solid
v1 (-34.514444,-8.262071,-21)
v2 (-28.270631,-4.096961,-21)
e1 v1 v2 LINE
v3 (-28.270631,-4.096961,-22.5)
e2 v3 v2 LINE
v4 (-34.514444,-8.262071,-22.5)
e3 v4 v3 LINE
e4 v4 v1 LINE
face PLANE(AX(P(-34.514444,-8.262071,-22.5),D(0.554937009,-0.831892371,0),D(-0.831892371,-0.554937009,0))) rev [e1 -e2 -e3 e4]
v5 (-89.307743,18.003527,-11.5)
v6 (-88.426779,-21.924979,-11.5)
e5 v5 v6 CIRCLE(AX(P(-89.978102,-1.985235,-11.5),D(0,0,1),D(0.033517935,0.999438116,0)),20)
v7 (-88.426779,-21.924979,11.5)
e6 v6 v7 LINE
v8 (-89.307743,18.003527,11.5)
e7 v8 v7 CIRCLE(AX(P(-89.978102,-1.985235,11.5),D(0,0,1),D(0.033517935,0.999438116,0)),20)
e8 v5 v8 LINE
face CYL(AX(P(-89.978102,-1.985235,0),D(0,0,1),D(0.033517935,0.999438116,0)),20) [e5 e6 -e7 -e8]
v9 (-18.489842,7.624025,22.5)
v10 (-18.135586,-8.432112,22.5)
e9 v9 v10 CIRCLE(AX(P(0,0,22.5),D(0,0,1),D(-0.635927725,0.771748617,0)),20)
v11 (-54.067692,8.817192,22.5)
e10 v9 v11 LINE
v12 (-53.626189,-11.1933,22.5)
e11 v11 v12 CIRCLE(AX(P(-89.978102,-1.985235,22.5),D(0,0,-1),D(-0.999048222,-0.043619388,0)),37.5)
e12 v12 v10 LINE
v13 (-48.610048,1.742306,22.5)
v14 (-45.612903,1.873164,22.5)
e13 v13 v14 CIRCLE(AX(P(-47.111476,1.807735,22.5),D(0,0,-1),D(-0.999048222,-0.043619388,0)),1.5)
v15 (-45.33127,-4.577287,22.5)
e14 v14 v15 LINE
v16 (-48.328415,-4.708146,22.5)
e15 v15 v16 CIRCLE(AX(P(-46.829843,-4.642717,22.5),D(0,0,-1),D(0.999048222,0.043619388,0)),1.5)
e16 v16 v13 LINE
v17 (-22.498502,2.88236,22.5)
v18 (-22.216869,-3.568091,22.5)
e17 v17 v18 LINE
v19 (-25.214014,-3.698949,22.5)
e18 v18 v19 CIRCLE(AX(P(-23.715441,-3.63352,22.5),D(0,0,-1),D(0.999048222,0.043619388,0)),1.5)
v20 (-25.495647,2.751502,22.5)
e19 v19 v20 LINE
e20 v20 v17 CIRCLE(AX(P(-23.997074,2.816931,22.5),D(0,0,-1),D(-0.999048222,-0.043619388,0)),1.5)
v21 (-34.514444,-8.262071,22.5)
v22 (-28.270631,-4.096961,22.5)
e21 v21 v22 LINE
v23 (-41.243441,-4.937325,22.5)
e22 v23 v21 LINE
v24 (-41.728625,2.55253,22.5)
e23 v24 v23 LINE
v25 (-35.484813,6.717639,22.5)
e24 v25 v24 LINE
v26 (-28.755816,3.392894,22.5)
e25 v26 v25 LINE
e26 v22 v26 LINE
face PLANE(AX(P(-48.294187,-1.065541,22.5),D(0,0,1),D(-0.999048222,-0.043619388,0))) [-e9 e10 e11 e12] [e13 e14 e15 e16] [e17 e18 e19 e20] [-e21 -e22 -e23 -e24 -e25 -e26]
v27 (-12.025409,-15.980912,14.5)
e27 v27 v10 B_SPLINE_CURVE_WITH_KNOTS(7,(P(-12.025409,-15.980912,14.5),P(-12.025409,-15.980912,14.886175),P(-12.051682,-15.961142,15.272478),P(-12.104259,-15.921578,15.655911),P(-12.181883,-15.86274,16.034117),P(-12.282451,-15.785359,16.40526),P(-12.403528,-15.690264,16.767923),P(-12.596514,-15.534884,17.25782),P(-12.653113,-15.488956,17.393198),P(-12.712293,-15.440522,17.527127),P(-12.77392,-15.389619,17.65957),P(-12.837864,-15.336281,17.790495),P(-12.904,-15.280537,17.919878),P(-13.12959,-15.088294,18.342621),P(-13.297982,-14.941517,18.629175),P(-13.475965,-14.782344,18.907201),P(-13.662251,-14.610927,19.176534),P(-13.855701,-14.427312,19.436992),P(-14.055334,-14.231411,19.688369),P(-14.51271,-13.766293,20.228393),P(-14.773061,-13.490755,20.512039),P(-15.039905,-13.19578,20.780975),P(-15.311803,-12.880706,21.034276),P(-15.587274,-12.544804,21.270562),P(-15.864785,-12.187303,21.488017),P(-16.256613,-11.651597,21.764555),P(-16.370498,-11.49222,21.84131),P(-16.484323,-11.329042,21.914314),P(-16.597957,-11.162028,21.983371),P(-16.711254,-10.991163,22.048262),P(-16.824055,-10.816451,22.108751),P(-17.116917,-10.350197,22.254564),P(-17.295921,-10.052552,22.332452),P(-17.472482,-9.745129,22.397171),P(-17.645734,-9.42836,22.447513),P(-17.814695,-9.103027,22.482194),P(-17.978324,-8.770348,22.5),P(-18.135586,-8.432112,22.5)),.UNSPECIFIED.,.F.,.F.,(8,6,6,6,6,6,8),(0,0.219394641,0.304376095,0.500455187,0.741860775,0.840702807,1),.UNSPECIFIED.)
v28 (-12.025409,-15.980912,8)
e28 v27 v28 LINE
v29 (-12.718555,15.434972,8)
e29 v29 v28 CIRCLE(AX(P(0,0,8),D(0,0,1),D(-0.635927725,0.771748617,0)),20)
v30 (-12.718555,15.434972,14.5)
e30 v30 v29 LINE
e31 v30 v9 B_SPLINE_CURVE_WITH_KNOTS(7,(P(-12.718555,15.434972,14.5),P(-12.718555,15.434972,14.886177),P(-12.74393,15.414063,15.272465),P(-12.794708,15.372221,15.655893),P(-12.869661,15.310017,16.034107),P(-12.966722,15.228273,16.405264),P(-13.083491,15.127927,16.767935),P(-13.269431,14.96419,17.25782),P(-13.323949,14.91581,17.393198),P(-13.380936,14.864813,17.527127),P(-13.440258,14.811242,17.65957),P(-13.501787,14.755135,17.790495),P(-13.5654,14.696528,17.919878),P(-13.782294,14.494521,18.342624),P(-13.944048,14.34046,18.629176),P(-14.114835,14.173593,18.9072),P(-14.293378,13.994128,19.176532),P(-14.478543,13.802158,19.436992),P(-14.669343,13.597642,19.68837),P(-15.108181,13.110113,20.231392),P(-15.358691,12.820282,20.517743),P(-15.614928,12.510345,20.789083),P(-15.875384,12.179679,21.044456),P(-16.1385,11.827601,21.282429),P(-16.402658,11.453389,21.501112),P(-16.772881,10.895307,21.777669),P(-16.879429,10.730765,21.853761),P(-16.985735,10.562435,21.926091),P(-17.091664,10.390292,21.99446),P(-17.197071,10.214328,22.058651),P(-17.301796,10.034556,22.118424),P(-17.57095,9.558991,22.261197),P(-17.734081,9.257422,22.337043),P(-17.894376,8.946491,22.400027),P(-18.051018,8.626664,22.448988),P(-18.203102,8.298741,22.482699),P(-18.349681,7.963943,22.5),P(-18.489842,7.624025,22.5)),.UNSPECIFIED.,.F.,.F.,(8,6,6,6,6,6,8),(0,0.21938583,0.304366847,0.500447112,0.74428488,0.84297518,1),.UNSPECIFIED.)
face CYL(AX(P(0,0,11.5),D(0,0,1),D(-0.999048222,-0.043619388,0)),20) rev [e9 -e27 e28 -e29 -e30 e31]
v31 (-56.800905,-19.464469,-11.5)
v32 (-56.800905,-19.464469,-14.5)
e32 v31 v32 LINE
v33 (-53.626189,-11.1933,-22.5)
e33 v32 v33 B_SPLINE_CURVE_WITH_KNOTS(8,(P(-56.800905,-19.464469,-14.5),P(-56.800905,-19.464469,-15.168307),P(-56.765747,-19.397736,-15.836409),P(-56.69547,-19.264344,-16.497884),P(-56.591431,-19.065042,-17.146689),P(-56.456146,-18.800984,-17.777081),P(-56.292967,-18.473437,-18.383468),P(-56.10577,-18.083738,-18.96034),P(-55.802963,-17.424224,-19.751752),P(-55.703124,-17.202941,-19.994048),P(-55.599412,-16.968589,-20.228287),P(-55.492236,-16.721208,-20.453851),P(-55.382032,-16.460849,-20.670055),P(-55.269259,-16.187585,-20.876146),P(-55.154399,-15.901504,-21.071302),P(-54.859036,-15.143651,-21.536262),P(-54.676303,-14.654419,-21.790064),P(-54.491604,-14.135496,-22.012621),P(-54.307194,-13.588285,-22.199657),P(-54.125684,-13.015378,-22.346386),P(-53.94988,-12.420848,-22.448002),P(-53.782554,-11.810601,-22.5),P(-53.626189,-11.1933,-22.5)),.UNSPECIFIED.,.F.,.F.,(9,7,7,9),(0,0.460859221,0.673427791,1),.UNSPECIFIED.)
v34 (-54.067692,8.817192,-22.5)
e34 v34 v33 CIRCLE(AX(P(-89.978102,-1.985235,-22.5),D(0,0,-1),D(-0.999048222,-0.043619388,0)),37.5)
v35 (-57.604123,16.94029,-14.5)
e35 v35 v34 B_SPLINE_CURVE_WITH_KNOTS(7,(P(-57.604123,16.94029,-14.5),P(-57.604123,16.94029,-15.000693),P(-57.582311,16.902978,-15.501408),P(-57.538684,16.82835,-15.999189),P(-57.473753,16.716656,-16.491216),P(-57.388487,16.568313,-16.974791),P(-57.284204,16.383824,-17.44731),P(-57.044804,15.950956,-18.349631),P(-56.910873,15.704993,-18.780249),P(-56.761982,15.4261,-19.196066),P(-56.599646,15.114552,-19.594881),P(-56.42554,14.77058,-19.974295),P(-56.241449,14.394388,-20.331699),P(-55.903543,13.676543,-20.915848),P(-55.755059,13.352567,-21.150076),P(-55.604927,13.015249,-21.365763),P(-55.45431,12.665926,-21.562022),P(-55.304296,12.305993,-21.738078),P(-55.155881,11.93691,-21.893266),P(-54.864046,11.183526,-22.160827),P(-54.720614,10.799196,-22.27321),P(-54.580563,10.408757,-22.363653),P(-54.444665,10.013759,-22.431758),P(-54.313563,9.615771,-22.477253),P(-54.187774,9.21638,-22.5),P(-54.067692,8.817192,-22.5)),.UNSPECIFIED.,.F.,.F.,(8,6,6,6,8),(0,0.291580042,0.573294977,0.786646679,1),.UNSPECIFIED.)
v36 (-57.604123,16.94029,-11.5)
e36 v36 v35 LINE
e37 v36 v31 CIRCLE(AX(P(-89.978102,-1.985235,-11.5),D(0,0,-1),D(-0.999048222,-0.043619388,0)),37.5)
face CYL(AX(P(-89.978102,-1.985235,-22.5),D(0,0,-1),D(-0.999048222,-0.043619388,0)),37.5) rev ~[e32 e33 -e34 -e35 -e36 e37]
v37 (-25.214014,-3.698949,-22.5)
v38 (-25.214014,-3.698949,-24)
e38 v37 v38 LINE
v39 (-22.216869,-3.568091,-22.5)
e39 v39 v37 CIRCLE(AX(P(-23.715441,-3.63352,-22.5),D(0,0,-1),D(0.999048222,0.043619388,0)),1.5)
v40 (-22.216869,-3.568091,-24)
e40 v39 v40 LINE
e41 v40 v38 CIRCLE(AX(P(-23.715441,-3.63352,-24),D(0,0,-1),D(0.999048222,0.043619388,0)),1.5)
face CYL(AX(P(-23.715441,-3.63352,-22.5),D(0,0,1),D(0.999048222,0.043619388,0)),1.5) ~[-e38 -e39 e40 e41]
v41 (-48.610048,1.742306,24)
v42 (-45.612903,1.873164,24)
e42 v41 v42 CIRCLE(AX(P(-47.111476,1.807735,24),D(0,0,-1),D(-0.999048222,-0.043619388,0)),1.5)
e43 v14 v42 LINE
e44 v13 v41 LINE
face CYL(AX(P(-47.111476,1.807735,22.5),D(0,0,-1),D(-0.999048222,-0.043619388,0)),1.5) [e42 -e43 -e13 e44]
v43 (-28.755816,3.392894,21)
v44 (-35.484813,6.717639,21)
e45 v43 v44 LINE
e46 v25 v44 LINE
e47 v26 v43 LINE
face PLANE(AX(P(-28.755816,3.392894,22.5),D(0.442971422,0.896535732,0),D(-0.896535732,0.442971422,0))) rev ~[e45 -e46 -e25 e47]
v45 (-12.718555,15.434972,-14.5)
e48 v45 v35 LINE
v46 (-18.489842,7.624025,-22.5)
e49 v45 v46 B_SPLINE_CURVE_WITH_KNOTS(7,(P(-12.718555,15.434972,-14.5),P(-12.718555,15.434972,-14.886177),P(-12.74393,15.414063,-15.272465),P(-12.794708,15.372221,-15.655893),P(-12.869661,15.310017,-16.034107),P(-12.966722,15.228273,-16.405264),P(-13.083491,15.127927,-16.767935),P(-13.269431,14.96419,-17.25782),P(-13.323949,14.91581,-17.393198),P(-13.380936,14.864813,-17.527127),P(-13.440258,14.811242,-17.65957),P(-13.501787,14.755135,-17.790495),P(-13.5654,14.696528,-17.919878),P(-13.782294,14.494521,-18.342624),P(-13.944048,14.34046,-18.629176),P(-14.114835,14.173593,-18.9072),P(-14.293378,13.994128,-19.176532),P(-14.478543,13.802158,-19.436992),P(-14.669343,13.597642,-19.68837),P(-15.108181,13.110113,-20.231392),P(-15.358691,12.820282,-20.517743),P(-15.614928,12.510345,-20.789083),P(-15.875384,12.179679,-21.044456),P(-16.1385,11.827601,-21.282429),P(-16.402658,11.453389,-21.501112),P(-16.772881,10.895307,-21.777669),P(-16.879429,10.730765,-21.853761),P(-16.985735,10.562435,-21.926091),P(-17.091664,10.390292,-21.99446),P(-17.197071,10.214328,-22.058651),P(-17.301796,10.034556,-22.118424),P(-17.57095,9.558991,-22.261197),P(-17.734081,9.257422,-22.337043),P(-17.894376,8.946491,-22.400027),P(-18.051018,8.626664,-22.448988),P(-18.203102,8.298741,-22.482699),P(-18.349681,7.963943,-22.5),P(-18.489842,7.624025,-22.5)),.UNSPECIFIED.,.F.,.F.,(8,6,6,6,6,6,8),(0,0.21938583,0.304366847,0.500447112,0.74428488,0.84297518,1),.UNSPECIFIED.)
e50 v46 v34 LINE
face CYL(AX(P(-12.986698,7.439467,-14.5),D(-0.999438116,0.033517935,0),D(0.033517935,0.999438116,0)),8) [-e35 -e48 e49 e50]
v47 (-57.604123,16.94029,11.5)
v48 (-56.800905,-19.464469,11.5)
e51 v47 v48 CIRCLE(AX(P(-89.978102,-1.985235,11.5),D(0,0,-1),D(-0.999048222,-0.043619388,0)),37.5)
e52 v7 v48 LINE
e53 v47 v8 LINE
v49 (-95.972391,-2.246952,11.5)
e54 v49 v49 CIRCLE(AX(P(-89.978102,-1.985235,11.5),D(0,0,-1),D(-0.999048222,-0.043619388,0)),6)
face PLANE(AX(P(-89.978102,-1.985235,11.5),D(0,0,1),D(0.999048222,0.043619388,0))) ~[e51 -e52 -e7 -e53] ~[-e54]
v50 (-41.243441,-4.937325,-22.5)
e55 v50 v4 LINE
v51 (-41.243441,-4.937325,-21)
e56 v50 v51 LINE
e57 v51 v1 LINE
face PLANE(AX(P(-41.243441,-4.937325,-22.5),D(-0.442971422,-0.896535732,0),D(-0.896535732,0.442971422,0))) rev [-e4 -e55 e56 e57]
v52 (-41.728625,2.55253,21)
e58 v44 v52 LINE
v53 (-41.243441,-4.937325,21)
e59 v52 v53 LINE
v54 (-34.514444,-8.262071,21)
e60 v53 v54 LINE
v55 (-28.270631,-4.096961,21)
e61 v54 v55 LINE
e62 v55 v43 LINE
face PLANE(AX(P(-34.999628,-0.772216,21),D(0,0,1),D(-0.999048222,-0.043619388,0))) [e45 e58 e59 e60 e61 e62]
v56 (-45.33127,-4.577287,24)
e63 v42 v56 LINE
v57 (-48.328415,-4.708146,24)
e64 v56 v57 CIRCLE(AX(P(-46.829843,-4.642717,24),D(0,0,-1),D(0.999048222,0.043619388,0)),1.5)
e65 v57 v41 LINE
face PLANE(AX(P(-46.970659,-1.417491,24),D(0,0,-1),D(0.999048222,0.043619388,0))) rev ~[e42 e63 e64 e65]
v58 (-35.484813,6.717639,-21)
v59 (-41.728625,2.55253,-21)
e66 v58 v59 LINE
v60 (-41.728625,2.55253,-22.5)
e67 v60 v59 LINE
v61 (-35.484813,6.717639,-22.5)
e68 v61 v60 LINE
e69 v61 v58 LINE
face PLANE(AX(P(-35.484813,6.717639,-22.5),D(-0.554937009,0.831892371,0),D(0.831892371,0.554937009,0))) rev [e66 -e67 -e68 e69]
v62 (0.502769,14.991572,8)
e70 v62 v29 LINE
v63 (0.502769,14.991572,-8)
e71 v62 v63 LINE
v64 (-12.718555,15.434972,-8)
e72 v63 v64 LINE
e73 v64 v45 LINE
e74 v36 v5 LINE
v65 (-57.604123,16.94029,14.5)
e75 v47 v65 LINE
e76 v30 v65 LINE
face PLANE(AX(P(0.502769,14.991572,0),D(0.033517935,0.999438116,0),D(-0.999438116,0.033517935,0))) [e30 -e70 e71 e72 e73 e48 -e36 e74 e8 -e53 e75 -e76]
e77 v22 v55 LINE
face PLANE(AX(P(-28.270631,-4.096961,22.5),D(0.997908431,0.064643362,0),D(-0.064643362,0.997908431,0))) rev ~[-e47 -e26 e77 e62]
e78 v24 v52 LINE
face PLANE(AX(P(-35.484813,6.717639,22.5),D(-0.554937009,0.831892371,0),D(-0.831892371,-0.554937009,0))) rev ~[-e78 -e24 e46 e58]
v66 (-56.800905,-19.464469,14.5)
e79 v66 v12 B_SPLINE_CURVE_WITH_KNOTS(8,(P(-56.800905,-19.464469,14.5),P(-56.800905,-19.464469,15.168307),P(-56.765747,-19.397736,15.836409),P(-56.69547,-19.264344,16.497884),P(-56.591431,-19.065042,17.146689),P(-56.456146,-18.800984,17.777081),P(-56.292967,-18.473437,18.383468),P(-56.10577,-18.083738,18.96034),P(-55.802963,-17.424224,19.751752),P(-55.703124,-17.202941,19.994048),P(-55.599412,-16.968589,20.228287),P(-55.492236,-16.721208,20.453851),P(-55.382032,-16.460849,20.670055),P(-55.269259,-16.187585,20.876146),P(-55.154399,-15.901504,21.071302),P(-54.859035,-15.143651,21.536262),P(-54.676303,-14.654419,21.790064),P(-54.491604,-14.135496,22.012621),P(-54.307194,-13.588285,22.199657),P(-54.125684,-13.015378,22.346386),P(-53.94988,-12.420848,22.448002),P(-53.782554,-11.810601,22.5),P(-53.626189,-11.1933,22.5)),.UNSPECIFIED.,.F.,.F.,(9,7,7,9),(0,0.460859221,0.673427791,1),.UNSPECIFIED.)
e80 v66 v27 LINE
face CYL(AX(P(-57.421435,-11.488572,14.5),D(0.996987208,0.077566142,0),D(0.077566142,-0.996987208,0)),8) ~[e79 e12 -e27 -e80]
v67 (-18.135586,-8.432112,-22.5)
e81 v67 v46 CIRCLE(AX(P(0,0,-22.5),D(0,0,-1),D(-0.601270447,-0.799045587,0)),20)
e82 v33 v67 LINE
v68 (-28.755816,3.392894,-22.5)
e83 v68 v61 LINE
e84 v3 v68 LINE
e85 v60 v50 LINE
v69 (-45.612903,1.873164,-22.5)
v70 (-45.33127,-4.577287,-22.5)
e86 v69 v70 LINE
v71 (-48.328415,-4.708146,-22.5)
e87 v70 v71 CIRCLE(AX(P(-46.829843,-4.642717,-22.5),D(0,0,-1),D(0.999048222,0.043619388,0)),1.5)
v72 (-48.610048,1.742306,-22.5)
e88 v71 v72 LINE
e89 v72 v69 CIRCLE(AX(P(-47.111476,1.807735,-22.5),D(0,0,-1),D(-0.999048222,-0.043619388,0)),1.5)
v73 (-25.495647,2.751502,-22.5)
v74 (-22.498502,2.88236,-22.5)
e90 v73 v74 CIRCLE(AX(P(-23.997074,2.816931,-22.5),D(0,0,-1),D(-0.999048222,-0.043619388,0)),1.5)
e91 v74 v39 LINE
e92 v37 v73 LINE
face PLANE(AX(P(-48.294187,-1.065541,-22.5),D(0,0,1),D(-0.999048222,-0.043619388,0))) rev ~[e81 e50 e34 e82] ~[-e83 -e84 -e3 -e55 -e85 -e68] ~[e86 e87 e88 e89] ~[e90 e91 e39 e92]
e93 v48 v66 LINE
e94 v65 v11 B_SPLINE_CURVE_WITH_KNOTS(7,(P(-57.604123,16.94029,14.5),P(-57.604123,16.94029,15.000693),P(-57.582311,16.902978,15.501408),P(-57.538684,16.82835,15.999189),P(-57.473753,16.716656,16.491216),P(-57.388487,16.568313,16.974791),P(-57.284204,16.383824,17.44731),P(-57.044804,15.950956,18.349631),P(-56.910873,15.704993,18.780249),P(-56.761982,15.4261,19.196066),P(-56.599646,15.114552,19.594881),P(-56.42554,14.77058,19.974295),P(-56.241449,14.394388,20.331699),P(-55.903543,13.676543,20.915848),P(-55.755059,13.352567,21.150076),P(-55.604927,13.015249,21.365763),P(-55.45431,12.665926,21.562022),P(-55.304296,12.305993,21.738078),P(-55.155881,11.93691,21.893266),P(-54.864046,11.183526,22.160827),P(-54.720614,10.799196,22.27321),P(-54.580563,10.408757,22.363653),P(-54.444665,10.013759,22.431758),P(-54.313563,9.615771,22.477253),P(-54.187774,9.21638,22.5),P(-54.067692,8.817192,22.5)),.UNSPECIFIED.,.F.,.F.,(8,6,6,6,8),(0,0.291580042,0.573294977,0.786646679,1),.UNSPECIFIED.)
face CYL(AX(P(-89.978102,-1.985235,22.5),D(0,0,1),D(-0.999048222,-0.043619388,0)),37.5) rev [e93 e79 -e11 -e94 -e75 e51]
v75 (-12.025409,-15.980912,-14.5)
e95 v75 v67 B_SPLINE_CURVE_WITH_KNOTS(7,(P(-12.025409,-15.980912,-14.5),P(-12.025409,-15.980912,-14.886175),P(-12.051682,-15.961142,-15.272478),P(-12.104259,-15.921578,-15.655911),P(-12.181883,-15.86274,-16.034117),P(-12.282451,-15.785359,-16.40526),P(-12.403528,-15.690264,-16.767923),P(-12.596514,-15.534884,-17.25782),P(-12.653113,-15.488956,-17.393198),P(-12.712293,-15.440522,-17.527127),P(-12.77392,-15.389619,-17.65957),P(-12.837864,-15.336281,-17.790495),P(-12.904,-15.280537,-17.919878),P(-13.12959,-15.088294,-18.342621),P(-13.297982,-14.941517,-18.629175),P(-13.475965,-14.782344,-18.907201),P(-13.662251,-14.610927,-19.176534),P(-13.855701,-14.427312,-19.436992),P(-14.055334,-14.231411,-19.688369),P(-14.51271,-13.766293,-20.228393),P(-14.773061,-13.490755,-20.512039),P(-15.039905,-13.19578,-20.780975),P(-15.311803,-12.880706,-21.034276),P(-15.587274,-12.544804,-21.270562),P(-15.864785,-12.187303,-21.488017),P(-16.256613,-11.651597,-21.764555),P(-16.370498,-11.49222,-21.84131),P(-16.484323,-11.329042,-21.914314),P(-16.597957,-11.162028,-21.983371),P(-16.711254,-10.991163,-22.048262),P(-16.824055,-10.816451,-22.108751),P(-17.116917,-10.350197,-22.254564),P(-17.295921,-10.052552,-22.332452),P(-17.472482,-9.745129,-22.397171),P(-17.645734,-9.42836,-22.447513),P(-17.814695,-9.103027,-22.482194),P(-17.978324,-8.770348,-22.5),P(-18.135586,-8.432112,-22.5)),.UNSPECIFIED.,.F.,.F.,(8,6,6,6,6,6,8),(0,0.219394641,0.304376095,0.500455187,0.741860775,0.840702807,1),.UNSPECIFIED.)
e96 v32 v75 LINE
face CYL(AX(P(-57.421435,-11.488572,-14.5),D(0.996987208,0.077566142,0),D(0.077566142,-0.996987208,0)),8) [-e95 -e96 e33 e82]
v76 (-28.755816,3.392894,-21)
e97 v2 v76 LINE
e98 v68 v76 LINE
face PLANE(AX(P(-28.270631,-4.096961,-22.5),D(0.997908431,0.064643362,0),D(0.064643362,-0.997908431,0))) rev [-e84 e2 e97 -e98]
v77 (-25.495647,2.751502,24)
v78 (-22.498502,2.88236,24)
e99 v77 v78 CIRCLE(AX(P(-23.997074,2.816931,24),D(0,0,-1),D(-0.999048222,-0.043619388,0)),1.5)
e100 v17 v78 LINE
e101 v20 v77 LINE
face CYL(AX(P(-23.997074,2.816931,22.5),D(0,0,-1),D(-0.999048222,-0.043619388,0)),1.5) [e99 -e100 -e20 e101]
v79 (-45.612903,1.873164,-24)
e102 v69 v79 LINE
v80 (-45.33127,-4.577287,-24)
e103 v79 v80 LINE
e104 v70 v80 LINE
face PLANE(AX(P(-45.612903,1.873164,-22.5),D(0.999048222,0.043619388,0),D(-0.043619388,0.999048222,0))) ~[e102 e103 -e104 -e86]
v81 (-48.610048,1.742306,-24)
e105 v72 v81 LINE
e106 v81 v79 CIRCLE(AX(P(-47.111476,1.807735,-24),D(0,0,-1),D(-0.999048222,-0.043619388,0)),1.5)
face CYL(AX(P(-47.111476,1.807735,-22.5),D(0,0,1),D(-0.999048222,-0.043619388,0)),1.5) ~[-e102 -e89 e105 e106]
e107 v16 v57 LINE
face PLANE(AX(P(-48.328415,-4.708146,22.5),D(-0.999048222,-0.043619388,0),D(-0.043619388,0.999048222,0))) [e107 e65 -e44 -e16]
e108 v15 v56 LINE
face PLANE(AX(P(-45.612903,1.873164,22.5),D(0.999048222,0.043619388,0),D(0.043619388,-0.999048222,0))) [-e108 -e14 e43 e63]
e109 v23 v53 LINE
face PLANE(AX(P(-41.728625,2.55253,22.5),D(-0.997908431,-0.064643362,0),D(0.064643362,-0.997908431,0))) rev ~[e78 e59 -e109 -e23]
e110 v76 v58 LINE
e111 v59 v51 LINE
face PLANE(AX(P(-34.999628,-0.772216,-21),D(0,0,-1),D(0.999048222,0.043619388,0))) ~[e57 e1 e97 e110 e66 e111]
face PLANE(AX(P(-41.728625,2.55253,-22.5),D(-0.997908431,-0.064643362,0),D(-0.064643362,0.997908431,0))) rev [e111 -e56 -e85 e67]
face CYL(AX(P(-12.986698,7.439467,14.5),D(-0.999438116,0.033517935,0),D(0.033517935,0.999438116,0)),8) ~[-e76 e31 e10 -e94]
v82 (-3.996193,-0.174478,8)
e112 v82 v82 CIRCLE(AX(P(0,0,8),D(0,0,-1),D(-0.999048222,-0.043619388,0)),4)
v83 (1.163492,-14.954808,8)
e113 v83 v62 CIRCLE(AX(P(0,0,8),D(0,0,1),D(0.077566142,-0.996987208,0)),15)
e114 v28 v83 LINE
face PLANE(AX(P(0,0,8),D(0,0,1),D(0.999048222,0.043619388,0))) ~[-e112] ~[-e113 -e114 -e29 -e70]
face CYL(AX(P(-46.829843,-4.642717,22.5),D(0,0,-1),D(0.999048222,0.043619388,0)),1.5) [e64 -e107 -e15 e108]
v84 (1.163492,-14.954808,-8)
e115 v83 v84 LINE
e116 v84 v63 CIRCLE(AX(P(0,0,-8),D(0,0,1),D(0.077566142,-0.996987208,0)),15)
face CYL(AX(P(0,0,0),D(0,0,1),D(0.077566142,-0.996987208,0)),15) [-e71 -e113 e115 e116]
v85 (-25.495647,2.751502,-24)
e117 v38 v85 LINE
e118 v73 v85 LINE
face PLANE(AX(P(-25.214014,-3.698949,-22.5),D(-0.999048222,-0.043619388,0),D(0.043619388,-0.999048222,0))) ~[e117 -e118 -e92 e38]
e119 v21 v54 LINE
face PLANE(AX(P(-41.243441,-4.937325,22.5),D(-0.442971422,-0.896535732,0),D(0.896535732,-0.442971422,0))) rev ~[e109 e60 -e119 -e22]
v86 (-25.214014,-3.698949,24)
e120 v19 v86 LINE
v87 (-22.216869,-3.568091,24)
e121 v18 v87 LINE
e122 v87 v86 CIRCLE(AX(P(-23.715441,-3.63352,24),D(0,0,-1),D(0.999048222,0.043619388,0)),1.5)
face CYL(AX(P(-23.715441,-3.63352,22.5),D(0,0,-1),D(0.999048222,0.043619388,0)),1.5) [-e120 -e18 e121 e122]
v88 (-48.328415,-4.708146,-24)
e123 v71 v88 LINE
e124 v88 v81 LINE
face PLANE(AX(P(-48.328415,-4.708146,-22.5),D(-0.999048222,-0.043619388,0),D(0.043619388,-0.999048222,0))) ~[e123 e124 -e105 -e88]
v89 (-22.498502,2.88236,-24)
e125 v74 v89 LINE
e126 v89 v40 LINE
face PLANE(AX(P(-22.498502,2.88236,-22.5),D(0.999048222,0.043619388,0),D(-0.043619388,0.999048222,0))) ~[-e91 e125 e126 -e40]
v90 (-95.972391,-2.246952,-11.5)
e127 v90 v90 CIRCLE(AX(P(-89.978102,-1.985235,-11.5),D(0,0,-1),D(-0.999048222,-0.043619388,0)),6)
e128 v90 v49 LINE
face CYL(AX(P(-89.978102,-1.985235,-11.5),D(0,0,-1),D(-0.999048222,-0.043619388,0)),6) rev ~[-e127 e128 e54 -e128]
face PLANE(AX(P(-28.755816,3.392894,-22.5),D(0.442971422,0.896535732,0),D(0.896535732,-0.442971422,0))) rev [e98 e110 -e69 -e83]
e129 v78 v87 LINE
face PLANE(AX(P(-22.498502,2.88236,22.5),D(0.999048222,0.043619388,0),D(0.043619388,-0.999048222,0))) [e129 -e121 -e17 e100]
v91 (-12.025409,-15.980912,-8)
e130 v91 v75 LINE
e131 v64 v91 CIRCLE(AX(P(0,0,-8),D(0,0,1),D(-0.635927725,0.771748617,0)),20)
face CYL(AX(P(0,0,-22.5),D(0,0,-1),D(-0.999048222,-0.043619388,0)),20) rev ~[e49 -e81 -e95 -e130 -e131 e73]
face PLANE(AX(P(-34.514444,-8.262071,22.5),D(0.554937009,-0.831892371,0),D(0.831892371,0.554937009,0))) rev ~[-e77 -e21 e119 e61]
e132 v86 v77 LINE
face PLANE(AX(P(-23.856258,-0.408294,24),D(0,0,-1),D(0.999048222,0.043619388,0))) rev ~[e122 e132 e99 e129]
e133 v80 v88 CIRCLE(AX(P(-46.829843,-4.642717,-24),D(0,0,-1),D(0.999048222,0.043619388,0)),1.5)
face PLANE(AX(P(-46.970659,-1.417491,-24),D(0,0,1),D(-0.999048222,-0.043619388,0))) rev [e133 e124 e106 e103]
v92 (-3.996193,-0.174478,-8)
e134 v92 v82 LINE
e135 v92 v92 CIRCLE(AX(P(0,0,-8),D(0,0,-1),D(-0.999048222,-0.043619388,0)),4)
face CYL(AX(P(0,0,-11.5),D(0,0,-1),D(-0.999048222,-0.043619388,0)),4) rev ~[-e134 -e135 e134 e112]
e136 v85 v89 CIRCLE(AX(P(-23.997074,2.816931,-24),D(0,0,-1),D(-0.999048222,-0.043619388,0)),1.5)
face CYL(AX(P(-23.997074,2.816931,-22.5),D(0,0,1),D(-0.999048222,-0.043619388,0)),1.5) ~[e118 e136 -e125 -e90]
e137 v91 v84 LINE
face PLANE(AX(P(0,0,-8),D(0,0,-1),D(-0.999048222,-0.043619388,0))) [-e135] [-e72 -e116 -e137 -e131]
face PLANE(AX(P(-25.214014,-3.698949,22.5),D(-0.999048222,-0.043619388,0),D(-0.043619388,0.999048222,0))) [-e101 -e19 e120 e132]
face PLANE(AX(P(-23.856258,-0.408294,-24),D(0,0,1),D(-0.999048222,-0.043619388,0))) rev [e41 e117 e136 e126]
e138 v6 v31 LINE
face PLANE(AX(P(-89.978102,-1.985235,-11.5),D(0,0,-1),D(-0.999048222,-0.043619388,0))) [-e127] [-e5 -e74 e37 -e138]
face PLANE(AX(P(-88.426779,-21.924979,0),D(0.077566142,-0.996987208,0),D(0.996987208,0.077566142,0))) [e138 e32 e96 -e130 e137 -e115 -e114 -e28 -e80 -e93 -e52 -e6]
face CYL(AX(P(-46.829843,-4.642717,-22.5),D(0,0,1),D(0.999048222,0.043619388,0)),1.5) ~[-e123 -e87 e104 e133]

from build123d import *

# Parameters (mm, degrees)
BOSS_EXTRUDE1_DEPTH    = 22.5
SKETCH2_R              = 37.5
SKETCH2_R_2            = 20
CUT_EXTRUDE1_DEPTH     = 11
FILLET1_R              = 8
SKETCH4_R              = 6
SKETCH4_R_2            = 4
CUT_EXTRUDE2_DEPTH     = 40
CUT_EXTRUDE3_DEPTH     = 1.5
BOSS_EXTRUDE2_DEPTH    = 1.5
SKETCH7_R              = 20
CUT_EXTRUDE4_DEPTH     = 3.5
BODY_MOVE_COPY7_ANGLE  = 178.232303169
BODY_MOVE_COPY8_ANGLE  = 1.26
BODY_MOVE_COPY9_ANGLE  = 1.26
BODY_MOVE_COPY10_ANGLE = 180


with BuildPart() as part:
    # Sketch1 → Boss-Extrude1 (new body, symmetric)
    with BuildSketch(Plane(origin=(0, 0, 0), x_dir=(1, 0, 0), z_dir=(0, 1, 0))):
        with BuildLine():
            Line((-91.135271219, -13.013928685), (-1.541618241, -19.940496814))
            ThreePointArc((-1.541618241, -19.940496814), (19.99534612, -0.431431984), (-0.680086883, 19.988433701))
            Line((-0.680086883, 19.988433701), (-90.489122701, 16.932769202))
            ThreePointArc((-90.489122701, 16.932769202), (-104.975567128, 2.265017913), (-91.135271219, -13.013928685))
        make_face()
    extrude(amount=BOSS_EXTRUDE1_DEPTH, both=True)

    # Sketch2 → Cut-Extrude1 (cut)
    with BuildSketch(Plane.XZ.offset(22.5)):
        Circle(SKETCH2_R)
        with Locations((-89.979057538, -1.941443926)):
            Circle(SKETCH2_R_2)
    cut_extrude1 = extrude(amount=-CUT_EXTRUDE1_DEPTH, mode=Mode.SUBTRACT)

    # Mirror1: Cut-Extrude1 across plane
    add(cut_extrude1.mirror(Plane(origin=(0, 0, 0), x_dir=(0, 0, 1), z_dir=(0, -1, 0))), mode=Mode.SUBTRACT)

    # Fillet1
    fillet1_edges = [part.edges().sort_by_distance(p)[0] for p in [
        (-55.557279033, -22.5, 15.764496148),
        (-54.825601141, -22.5, -18.1461856),
        (-54.825601141, 22.5, -18.1461856),
        (-55.557279033, 22.5, 15.764496148),
    ]]
    fillet(fillet1_edges, radius=FILLET1_R)

    # Sketch4 → Cut-Extrude2 (cut)
    with BuildSketch(Plane.XZ.offset(11.5)):
        Circle(SKETCH4_R)
        with Locations((-89.979057538, -1.941443926)):
            Circle(SKETCH4_R_2)
    extrude(amount=-CUT_EXTRUDE2_DEPTH, mode=Mode.SUBTRACT)

    # Sketch5 → Cut-Extrude3 (cut)
    with BuildSketch(Plane(origin=(0, 22.5, 0), x_dir=(1, 0, 0), z_dir=(0, 1, 0))):
        Polygon((-61.556626556, 4.801358237), (-61.398607028, -2.702531632), (-54.82103801, -6.31762764), (-48.401488521, -2.42883378), (-48.559508049, 5.075056088), (-55.137077066, 8.690152097), align=None)
    cut_extrude3 = extrude(amount=-CUT_EXTRUDE3_DEPTH, mode=Mode.SUBTRACT)

    # Sketch6 → Boss-Extrude2 (add)
    with BuildSketch(Plane(origin=(0, 22.5, 0), x_dir=(1, 0, 0), z_dir=(0, 1, 0))):
        with BuildLine():
            Line((-67.627696069, -1.919544043), (-67.627696069, 4.537052574))
            ThreePointArc((-67.627696069, 4.537052574), (-66.127696069, 6.037052574), (-64.627696069, 4.537052574))
            Line((-64.627696069, 4.537052574), (-64.627696069, -1.919544043))
            ThreePointArc((-64.627696069, -1.919544043), (-66.127696069, -3.419544043), (-67.627696069, -1.919544043))
        make_face()
        with BuildLine():
            Line((-44.491273974, -1.919544043), (-44.491273974, 4.537052574))
            ThreePointArc((-44.491273974, 4.537052574), (-42.991273974, 6.037052574), (-41.491273974, 4.537052574))
            Line((-41.491273974, 4.537052574), (-41.491273974, -1.919544043))
            ThreePointArc((-41.491273974, -1.919544043), (-42.991273974, -3.419544043), (-44.491273974, -1.919544043))
        make_face()
    boss_extrude2 = extrude(amount=BOSS_EXTRUDE2_DEPTH)

    # Mirror2: Cut-Extrude3, Boss-Extrude2 across plane
    add(cut_extrude3.mirror(Plane(origin=(0, 0, 0), x_dir=(0, 0, 1), z_dir=(0, -1, 0))), mode=Mode.SUBTRACT)
    add(boss_extrude2.mirror(Plane(origin=(0, 0, 0), x_dir=(0, 0, 1), z_dir=(0, -1, 0))))

    # Sketch7 → Cut-Extrude4 (cut)
    with BuildSketch(Plane.XZ.offset(11.5)):
        with Locations((-89.979057538, -1.941443926)):
            Circle(SKETCH7_R)
    cut_extrude4 = extrude(amount=-CUT_EXTRUDE4_DEPTH, mode=Mode.SUBTRACT)

    # Mirror3: Cut-Extrude4 across plane
    add(cut_extrude4.mirror(Plane.ZX), mode=Mode.SUBTRACT)


with BuildPart() as part_1:
    # Body-Move/Copy1: moved
    add(part.part.moved(Location((89.979057538, 0, 1.941443926))))


with BuildPart() as part_2:
    # Body-Move/Copy7: moved
    add(part_1.part.rotate(Axis((0, 0, 0), (-0.015427289, -0.70702263, 0.70702263)), BODY_MOVE_COPY7_ANGLE))


with BuildPart() as part_3:
    # Body-Move/Copy8: moved
    add(part_2.part.rotate(Axis((0, 0, 0), (0, 0, -1)), BODY_MOVE_COPY8_ANGLE))


with BuildPart() as part_4:
    # Body-Move/Copy9: moved
    add(part_3.part.rotate(Axis((0, 0, 0), (0, 0, 1)), BODY_MOVE_COPY9_ANGLE))


with BuildPart() as part_5:
    # Body-Move/Copy10: moved
    add(part_4.part.rotate(Axis((0, 0, 0), (1, 0, 0)), BODY_MOVE_COPY10_ANGLE))


solid = part_5.part
